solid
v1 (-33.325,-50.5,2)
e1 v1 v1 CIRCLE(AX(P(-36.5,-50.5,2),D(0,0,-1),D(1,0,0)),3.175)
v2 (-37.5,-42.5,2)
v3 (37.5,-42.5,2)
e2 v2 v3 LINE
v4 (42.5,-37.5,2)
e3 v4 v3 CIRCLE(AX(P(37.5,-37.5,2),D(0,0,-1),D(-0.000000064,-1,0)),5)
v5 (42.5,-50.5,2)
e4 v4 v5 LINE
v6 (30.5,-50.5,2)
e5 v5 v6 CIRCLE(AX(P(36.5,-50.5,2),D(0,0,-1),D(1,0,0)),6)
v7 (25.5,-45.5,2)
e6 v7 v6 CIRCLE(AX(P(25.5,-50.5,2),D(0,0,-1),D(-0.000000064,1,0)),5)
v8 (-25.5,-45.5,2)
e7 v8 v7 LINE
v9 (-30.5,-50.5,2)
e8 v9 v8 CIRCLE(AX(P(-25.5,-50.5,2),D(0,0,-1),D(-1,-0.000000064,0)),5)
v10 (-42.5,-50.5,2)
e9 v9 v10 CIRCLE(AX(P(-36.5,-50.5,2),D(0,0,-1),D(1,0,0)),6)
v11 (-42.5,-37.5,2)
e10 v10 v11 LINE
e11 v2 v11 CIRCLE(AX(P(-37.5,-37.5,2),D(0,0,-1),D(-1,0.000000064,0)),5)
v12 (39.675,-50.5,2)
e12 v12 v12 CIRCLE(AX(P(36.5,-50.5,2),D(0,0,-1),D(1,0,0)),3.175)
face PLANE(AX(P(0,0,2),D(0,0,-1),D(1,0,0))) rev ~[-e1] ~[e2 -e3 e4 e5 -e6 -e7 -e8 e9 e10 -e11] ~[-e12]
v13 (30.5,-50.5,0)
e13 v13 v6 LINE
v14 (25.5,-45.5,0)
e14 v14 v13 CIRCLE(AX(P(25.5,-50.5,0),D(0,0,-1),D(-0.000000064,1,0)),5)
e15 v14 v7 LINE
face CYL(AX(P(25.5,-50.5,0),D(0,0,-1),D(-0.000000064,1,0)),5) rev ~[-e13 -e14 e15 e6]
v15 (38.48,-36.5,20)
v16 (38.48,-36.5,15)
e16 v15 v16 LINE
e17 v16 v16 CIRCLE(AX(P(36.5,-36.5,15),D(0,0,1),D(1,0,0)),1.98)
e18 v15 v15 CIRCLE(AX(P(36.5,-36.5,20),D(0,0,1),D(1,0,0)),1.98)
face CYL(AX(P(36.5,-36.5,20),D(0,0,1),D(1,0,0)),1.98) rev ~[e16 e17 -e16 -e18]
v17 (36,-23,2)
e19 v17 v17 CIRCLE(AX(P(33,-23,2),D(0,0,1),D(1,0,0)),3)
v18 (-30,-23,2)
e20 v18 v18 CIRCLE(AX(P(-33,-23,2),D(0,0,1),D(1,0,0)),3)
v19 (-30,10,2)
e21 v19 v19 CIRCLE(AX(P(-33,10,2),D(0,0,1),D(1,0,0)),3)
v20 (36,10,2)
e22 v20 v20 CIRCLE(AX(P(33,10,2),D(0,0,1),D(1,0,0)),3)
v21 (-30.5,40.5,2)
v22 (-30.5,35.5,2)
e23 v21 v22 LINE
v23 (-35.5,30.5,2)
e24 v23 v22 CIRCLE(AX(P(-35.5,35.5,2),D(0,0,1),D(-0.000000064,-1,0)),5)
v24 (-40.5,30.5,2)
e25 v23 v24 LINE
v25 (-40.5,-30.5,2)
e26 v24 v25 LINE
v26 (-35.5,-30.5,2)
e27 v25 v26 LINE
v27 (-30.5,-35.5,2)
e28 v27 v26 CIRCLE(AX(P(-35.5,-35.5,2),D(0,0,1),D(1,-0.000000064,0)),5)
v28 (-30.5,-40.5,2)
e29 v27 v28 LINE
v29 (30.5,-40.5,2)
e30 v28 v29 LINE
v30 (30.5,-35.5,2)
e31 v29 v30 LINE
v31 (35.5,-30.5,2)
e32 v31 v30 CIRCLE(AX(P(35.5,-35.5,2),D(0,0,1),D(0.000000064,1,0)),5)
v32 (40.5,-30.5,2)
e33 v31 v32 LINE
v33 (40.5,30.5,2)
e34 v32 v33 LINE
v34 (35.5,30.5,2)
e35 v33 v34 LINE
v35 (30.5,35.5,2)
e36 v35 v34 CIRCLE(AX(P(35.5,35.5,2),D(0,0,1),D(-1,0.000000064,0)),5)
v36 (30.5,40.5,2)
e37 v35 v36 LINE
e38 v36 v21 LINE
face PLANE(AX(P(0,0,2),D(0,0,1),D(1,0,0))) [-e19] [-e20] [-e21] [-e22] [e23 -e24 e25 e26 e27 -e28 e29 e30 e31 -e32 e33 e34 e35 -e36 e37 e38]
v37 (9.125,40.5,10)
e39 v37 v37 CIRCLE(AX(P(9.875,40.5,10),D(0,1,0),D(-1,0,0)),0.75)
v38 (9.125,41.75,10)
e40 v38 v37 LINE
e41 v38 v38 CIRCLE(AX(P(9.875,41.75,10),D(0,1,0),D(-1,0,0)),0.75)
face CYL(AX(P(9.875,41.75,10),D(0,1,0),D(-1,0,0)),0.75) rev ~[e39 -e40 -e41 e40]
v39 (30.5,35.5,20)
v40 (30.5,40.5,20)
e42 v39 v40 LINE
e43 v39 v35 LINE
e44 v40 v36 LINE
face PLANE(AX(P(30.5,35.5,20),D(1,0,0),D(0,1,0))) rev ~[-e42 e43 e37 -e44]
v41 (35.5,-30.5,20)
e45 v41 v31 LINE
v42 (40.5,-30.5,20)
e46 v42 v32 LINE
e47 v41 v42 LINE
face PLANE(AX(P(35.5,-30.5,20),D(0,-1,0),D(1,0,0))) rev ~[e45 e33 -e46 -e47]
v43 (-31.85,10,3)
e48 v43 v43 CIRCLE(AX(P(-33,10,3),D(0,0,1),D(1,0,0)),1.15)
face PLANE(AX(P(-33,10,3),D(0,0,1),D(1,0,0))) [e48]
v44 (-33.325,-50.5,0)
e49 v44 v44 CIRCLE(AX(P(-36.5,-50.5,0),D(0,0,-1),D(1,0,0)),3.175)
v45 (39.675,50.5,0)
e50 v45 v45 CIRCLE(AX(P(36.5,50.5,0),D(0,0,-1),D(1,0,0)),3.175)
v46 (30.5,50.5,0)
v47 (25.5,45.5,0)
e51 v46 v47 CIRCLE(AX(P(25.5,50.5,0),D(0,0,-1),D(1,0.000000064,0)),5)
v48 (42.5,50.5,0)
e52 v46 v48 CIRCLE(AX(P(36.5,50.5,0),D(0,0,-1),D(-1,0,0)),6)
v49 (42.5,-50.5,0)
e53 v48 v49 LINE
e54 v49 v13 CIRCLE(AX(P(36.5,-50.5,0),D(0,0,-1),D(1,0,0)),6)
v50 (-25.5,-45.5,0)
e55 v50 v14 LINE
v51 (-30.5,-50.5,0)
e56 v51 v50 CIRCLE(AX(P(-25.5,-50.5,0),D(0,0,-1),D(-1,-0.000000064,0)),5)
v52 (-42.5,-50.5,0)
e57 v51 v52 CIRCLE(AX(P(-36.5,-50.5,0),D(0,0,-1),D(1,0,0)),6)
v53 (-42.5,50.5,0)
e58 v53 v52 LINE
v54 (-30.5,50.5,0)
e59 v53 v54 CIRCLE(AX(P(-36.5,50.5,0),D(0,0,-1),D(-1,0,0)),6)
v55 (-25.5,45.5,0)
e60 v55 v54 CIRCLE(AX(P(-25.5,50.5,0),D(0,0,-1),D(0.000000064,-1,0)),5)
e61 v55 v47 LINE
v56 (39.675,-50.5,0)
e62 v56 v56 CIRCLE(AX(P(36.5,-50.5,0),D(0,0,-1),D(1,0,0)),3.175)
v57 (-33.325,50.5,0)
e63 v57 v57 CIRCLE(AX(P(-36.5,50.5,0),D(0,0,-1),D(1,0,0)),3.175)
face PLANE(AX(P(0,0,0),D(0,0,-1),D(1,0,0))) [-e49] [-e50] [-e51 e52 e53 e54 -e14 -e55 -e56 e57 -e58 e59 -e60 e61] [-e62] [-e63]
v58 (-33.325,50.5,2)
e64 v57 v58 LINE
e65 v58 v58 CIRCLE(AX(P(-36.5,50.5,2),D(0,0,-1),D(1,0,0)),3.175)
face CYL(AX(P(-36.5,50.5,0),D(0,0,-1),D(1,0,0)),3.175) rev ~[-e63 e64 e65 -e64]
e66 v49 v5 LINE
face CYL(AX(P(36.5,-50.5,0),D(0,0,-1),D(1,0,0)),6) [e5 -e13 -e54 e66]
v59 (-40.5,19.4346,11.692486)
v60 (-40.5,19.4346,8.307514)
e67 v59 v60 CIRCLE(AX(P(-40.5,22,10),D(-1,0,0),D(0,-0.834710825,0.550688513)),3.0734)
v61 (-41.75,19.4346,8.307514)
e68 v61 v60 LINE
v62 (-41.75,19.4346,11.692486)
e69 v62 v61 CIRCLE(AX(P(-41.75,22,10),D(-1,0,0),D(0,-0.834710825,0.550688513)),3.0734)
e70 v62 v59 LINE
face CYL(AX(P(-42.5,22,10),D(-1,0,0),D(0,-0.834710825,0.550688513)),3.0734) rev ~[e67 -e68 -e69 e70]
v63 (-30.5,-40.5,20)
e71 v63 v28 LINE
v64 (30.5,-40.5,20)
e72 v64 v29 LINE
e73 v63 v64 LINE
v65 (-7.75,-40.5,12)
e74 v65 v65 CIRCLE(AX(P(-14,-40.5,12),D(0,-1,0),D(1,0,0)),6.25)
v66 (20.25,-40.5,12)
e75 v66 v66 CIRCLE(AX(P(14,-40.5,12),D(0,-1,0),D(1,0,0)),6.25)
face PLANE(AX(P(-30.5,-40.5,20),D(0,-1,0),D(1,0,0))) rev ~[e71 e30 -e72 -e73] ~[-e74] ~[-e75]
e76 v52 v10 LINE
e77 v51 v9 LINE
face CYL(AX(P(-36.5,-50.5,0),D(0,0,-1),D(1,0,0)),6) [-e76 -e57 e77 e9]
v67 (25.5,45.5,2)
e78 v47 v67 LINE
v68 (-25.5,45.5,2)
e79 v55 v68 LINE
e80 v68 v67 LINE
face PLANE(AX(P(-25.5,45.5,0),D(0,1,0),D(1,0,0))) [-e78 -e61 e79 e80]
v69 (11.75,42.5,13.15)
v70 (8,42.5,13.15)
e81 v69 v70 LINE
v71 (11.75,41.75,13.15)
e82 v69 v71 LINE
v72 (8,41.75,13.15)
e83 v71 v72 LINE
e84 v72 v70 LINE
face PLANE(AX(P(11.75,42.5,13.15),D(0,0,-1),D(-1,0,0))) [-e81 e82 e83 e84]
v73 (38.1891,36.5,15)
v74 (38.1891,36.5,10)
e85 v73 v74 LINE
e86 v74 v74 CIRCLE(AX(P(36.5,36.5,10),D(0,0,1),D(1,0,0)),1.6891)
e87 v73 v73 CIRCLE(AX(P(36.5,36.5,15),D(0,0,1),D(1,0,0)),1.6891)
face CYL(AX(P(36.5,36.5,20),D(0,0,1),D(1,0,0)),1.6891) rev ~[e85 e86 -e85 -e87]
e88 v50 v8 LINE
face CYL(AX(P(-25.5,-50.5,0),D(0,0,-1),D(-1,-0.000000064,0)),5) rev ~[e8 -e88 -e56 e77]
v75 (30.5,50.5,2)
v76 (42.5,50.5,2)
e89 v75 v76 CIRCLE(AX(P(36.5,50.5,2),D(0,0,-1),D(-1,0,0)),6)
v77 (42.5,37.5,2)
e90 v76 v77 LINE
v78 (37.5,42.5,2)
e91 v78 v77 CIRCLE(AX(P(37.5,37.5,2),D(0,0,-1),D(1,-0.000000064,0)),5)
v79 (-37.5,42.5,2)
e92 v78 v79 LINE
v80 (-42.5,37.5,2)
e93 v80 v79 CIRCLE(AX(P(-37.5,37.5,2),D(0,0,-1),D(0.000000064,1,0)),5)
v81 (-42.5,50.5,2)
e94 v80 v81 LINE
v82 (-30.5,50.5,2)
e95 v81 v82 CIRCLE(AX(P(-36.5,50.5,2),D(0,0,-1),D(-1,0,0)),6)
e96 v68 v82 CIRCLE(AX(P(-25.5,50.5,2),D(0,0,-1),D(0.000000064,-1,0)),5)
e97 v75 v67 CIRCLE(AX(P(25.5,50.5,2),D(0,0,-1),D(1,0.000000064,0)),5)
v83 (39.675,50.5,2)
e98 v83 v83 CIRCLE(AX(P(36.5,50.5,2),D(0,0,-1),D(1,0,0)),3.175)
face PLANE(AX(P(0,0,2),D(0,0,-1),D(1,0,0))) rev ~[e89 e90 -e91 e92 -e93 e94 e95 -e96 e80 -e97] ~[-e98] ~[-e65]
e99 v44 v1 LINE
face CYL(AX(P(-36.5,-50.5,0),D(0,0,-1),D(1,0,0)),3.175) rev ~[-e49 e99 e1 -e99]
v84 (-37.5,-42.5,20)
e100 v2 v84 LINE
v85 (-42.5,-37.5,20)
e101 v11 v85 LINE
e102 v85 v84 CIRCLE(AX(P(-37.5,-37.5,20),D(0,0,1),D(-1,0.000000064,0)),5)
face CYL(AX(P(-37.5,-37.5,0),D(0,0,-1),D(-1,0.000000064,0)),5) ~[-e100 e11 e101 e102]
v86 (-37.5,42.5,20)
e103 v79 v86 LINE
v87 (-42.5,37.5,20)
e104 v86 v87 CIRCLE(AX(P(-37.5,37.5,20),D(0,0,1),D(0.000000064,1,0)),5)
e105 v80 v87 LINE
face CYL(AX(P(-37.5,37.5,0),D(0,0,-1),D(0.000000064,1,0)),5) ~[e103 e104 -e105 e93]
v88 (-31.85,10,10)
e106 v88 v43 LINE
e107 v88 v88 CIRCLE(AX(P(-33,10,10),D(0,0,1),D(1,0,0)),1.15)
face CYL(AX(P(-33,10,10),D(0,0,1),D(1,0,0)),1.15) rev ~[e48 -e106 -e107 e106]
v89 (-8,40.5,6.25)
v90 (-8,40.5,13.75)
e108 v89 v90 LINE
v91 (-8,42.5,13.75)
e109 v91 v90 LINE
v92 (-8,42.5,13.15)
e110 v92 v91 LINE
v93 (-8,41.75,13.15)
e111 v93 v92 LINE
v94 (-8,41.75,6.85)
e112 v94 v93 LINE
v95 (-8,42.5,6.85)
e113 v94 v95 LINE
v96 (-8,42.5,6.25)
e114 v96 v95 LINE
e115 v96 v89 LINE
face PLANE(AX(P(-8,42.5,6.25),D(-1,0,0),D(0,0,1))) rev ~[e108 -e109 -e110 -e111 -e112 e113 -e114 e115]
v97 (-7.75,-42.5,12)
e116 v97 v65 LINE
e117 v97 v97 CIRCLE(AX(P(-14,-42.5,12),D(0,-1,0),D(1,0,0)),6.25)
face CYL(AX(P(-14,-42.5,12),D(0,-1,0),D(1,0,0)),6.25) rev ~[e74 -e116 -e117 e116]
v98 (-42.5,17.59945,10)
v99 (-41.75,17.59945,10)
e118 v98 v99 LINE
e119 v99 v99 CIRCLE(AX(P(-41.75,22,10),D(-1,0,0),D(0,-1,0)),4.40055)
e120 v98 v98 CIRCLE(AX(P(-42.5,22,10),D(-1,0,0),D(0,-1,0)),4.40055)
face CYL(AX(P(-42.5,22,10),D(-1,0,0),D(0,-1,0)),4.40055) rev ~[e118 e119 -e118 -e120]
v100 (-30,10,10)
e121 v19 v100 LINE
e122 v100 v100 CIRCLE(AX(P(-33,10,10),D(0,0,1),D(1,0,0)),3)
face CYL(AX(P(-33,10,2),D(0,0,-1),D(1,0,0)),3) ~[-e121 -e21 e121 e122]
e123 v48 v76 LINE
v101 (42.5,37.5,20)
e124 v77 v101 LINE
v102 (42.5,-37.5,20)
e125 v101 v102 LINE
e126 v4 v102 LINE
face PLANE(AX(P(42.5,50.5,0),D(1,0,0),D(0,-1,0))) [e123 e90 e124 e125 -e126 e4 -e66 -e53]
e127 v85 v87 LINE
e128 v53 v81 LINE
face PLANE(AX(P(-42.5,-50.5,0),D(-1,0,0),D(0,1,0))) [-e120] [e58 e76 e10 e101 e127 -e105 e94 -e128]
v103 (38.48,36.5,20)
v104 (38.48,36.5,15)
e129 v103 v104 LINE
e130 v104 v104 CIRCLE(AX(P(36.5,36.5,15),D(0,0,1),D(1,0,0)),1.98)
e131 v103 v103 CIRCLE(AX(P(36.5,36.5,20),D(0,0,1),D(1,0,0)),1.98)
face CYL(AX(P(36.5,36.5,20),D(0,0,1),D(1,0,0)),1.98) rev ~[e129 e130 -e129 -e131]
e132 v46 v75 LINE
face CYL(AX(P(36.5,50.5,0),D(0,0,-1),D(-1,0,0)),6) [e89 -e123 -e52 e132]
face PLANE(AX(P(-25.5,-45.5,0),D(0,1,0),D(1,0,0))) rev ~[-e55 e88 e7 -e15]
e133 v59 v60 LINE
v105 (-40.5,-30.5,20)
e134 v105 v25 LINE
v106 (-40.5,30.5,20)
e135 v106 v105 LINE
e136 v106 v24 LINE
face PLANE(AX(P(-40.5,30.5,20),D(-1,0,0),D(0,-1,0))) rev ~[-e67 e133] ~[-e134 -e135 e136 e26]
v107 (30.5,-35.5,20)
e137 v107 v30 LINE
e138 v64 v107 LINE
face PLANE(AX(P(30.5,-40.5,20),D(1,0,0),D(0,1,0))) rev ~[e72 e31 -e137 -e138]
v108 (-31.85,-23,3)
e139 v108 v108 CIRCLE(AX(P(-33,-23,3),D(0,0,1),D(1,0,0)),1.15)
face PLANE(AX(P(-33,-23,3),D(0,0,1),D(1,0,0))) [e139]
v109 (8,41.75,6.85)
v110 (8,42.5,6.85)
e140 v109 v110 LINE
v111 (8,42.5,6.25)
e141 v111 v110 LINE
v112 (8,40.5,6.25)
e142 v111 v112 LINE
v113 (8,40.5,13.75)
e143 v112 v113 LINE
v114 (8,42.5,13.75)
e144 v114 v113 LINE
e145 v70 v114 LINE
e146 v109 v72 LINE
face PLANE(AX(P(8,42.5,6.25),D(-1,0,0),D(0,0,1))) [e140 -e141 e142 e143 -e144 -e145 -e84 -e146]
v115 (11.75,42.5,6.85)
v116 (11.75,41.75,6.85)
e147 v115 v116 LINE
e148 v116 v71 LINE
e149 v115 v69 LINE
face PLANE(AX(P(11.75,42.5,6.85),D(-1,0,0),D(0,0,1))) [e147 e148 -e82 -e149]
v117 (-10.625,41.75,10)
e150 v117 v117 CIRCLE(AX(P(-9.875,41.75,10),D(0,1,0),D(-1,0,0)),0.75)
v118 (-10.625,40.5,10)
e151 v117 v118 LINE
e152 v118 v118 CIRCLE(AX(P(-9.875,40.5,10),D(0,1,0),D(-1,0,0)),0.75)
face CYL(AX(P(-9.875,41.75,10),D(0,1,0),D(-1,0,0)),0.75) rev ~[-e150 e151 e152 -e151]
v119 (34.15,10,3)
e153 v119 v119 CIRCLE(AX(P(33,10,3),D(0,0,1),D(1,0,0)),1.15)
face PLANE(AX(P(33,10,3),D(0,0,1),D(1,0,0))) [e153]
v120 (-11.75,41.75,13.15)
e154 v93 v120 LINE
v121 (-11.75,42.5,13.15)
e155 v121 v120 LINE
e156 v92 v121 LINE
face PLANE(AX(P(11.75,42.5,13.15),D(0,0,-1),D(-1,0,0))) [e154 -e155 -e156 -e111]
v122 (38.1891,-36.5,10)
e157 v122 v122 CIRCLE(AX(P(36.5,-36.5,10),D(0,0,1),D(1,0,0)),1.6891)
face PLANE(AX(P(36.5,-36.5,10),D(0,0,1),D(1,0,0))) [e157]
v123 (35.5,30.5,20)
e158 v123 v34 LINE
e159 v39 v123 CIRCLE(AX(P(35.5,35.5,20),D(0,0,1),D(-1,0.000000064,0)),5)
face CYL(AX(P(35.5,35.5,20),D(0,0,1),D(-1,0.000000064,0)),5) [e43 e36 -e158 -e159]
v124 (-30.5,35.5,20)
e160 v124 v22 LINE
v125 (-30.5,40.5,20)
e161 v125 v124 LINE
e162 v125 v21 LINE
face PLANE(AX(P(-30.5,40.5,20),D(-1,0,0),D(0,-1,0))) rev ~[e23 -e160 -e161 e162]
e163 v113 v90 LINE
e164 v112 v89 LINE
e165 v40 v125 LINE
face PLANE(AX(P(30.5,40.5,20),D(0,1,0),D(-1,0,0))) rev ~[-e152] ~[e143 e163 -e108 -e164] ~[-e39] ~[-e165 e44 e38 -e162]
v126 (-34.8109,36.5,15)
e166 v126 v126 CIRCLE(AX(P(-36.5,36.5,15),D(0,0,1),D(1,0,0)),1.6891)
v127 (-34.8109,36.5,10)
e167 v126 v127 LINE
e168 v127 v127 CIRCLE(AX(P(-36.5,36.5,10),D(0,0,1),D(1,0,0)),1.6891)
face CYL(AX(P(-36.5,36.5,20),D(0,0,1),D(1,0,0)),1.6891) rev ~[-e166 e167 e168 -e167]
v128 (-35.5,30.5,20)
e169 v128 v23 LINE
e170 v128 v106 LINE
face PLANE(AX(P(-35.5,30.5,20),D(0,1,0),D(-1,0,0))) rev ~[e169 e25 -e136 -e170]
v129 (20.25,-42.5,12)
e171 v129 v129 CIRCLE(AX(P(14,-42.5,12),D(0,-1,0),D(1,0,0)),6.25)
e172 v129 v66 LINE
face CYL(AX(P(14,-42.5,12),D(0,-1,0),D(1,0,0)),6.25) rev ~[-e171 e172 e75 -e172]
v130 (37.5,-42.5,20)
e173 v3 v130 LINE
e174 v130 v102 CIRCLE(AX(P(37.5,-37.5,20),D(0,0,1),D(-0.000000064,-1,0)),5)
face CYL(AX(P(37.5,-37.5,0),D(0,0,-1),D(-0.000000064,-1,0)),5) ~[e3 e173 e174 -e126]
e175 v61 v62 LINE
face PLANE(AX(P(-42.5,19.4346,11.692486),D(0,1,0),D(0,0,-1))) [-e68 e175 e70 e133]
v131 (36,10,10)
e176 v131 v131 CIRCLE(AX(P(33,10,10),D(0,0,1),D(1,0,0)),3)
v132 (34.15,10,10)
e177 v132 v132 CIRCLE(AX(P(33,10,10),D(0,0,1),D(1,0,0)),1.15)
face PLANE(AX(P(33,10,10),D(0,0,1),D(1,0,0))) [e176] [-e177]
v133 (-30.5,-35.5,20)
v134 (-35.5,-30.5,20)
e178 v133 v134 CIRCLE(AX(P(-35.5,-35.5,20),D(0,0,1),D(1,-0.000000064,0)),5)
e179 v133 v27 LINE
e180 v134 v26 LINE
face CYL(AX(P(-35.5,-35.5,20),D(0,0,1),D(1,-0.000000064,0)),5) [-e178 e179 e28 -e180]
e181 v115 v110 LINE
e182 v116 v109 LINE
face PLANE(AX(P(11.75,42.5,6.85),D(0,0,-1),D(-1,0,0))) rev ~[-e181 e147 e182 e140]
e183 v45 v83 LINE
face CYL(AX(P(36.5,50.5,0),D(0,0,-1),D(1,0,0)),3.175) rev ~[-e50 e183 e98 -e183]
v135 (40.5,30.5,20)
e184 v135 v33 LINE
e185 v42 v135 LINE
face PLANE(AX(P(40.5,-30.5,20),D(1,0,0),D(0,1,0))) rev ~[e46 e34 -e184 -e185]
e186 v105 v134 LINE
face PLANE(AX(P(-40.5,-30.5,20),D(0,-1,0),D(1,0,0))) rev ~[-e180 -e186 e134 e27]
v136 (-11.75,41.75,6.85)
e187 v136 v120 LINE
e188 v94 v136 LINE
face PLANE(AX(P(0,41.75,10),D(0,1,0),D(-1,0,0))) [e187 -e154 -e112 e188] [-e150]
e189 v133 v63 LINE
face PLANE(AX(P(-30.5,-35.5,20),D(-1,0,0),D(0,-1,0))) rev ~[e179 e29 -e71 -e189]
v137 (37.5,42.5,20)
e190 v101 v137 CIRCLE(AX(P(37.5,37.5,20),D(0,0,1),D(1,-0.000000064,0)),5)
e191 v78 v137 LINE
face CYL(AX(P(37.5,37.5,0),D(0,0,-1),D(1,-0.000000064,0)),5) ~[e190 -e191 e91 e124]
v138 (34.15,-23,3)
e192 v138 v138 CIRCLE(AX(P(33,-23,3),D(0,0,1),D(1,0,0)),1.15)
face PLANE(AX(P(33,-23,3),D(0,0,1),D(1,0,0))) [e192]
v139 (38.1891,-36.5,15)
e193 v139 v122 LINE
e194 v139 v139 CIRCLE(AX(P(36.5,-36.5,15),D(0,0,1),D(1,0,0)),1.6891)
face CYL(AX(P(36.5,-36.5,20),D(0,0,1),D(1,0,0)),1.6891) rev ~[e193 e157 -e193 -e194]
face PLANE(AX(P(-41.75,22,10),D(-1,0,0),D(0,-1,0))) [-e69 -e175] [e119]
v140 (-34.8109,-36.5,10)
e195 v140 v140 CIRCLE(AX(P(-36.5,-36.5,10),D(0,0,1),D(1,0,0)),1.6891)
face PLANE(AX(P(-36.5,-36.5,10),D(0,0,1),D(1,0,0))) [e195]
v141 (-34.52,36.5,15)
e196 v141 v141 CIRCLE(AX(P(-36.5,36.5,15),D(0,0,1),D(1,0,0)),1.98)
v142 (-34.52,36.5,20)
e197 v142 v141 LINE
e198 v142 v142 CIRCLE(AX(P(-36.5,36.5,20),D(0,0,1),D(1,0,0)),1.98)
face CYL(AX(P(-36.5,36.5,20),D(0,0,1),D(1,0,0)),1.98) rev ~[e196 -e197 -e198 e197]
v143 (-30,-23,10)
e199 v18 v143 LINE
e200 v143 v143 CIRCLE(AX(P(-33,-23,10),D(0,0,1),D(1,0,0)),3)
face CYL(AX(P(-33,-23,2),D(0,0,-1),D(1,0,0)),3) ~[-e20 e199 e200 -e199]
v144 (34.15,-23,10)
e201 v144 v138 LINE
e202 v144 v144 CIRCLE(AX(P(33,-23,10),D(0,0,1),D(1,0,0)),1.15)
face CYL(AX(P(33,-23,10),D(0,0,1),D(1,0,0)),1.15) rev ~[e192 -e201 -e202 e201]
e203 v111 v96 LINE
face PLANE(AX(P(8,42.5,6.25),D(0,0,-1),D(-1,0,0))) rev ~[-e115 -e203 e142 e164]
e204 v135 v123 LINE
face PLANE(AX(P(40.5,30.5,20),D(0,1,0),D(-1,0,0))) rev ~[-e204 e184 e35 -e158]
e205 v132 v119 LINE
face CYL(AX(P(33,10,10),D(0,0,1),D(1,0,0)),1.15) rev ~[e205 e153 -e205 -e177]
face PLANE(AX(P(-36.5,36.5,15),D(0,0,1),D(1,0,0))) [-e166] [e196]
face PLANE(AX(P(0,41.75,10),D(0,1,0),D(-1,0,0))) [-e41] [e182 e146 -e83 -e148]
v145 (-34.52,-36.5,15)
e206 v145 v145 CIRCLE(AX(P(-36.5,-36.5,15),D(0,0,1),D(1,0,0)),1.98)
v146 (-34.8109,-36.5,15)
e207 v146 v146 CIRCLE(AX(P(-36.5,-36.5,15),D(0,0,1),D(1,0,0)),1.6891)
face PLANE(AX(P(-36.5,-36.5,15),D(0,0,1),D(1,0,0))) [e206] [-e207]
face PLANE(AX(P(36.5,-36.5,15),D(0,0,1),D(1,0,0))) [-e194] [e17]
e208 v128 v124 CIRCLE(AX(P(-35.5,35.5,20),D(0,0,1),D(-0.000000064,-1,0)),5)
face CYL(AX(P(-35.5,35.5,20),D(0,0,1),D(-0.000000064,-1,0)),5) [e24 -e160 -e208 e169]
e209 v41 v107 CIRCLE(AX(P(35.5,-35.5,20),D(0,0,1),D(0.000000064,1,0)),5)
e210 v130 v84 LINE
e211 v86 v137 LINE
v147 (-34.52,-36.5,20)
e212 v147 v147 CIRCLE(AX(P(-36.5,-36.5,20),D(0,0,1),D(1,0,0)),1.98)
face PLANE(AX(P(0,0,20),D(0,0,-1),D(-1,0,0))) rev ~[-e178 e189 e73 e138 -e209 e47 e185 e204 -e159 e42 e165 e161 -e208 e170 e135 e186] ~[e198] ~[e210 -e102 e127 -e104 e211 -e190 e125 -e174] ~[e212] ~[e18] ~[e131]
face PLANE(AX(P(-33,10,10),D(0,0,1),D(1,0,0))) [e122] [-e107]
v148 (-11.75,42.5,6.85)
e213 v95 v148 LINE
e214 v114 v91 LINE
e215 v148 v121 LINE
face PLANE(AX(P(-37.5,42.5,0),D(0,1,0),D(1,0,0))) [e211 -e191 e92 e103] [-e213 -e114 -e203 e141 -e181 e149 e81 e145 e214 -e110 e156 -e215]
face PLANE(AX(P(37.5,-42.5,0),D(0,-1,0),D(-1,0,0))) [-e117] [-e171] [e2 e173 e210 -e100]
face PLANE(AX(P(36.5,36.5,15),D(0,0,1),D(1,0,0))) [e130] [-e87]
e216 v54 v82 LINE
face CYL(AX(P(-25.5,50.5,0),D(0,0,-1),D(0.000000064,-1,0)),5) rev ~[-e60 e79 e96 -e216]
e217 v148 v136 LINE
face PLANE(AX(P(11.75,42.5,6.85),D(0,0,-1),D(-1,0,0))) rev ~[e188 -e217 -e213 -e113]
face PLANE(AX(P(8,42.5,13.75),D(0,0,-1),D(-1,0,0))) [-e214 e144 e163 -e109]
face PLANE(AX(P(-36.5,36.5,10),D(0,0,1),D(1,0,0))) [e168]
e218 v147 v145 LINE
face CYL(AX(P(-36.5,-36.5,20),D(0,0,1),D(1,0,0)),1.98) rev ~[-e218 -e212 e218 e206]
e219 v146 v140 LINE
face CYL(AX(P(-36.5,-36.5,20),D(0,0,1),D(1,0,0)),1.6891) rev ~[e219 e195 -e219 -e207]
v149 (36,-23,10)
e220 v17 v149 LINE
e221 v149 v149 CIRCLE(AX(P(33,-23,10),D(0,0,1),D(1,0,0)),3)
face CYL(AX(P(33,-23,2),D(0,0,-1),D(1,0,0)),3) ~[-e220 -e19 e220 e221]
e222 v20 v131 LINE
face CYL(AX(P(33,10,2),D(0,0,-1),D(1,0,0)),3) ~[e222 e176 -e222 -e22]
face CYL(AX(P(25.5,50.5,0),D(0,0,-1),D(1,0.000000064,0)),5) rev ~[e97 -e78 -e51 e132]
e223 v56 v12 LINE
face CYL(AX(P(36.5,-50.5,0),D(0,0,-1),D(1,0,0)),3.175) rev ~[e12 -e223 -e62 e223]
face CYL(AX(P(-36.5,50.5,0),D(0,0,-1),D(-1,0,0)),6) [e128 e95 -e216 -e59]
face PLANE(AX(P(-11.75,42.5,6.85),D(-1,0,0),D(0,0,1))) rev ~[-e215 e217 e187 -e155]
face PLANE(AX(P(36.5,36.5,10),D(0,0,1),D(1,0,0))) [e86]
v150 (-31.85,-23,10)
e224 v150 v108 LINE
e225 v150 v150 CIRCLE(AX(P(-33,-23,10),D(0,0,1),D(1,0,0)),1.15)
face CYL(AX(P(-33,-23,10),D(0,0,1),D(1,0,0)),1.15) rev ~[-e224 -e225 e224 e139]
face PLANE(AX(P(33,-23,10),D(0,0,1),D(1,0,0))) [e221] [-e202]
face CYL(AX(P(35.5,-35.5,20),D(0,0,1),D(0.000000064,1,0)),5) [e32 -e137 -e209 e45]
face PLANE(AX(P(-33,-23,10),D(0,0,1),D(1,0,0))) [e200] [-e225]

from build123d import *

# Parameters (mm, degrees)
PAD_DEPTH       = 20
POCKET_DEPTH    = 18
SKETCH003_R     = 1.6891
POCKET001_DEPTH = 10
SKETCH005_R     = 1.98
POCKET002_DEPTH = 5
SKETCH006_R     = 3
PAD001_DEPTH    = 8
SKETCH007_R     = 1.15
POCKET003_DEPTH = 7
SKETCH008_R     = 6.25
POCKET004_DEPTH = 5
POCKET008_DEPTH = 5
SKETCH013_R     = 4.40055
POCKET009_DEPTH = 0.75
SKETCH014_R     = 3.175
PAD002_DEPTH    = 2
SKETCH015_W     = 23.5
SKETCH015_H     = 6.3
POCKET010_DEPTH = 0.75
SKETCH016_W     = 16
SKETCH016_H     = 7.5
POCKET011_DEPTH = 5
SKETCH017_R     = 0.75
POCKET012_DEPTH = 5


with BuildPart() as part:
    # Sketch → Pad (new body)
    with BuildSketch(Plane.XY):
        with BuildLine():
            Line((-37.5, 42.5), (37.5, 42.5))
            ThreePointArc((42.5, 37.5), (41.035534, 41.035534), (37.5, 42.5))
            Line((42.5, 37.5), (42.5, -37.5))
            ThreePointArc((37.5, -42.5), (41.035534, -41.035534), (42.5, -37.5))
            Line((37.5, -42.5), (-37.5, -42.5))
            ThreePointArc((-42.5, -37.5), (-41.035534, -41.035534), (-37.5, -42.5))
            Line((-42.5, -37.5), (-42.5, 37.5))
            ThreePointArc((-37.5, 42.5), (-41.035534, 41.035534), (-42.5, 37.5))
        make_face()
    extrude(amount=PAD_DEPTH)

    # Sketch002 (on Face10 of Pad) → Pocket (cut)
    with BuildSketch(Plane.XY.offset(20)):
        with BuildLine():
            Line((-40.5, 30.5), (-40.5, -30.5))
            Line((-40.5, -30.5), (-35.5, -30.5))
            ThreePointArc((-30.5, -35.5), (-31.964466, -31.964466), (-35.5, -30.5))
            Line((-30.5, -35.5), (-30.5, -40.5))
            Line((-30.5, -40.5), (30.5, -40.5))
            Line((30.5, -40.5), (30.5, -35.5))
            ThreePointArc((35.5, -30.5), (31.964466, -31.964466), (30.5, -35.5))
            Line((35.5, -30.5), (40.5, -30.5))
            Line((40.5, -30.5), (40.5, 30.5))
            Line((40.5, 30.5), (35.5, 30.5))
            ThreePointArc((30.5, 35.5), (31.964466, 31.964466), (35.5, 30.5))
            Line((30.5, 35.5), (30.5, 40.5))
            Line((30.5, 40.5), (-30.5, 40.5))
            Line((-30.5, 40.5), (-30.5, 35.5))
            ThreePointArc((-35.5, 30.5), (-31.964466, 31.964466), (-30.5, 35.5))
            Line((-35.5, 30.5), (-40.5, 30.5))
        make_face()
    extrude(amount=-POCKET_DEPTH, mode=Mode.SUBTRACT)

    # Sketch003 (on Face5 of Pocket) → Pocket001 (cut)
    with BuildSketch(Plane.XY.offset(20)):
        with Locations((-36.5, 36.5)):
            Circle(SKETCH003_R)
        with Locations((36.5, 36.5)):
            Circle(SKETCH003_R)
        with Locations((36.5, -36.5)):
            Circle(SKETCH003_R)
        with Locations((-36.5, -36.5)):
            Circle(SKETCH003_R)
    extrude(amount=-POCKET001_DEPTH, mode=Mode.SUBTRACT)

    # Sketch005 (on Face5 of Pocket001) → Pocket002 (cut)
    with BuildSketch(Plane.XY.offset(20)):
        with Locations((-36.5, 36.5)):
            Circle(SKETCH005_R)
        with Locations((-36.5, -36.5)):
            Circle(SKETCH005_R)
        with Locations((36.5, -36.5)):
            Circle(SKETCH005_R)
        with Locations((36.5, 36.5)):
            Circle(SKETCH005_R)
    extrude(amount=-POCKET002_DEPTH, mode=Mode.SUBTRACT)

    # Sketch006 (on Face32 of Pocket002) → Pad001 (join)
    with BuildSketch(Plane.XY.offset(2)):
        with Locations((-33, 10)):
            Circle(SKETCH006_R)
        with Locations((33, 10)):
            Circle(SKETCH006_R)
        with Locations((-33, -23)):
            Circle(SKETCH006_R)
        with Locations((33, -23)):
            Circle(SKETCH006_R)
    extrude(amount=PAD001_DEPTH)

    # Sketch007 (on Face47 of Pad001) → Pocket003 (cut)
    with BuildSketch(Plane.XY.offset(10)):
        with Locations((33, 10)):
            Circle(SKETCH007_R)
        with Locations((33, -23)):
            Circle(SKETCH007_R)
        with Locations((-33, 10)):
            Circle(SKETCH007_R)
        with Locations((-33, -23)):
            Circle(SKETCH007_R)
    extrude(amount=-POCKET003_DEPTH, mode=Mode.SUBTRACT)

    # Sketch008 (on Face6 of Pocket003) → Pocket004 (cut)
    with BuildSketch(Plane.XZ.offset(42.5)):
        with Locations((-14, 12)):
            Circle(SKETCH008_R)
        with Locations((14, 12)):
            Circle(SKETCH008_R)
    extrude(amount=-POCKET004_DEPTH, mode=Mode.SUBTRACT)

    # Sketch012 → Pocket008 (cut)
    with BuildSketch(Plane(origin=(-42.5, 0, 0), x_dir=(0, -1, 0), z_dir=(-1, 0, 0))):
        with BuildLine():
            ThreePointArc((-19.4346, 11.692486), (-25.0734, 10), (-19.4346, 8.307514))
            Line((-19.4346, 11.692486), (-19.4346, 8.307514))
        make_face()
    extrude(amount=-POCKET008_DEPTH, mode=Mode.SUBTRACT)

    # Sketch013 (on Face1 of Pocket008) → Pocket009 (cut)
    with BuildSketch(Plane(origin=(-42.5, 0, 0), x_dir=(0, -1, 0), z_dir=(-1, 0, 0))):
        with Locations((-22, 10)):
            Circle(SKETCH013_R)
    extrude(amount=-POCKET009_DEPTH, mode=Mode.SUBTRACT)

    # Sketch014 (on Face3 of Pocket009) → Pad002 (join)
    with BuildSketch(Plane(origin=(0, 0, 0), x_dir=(1, 0, 0), z_dir=(0, 0, -1))):
        with BuildLine():
            ThreePointArc((-30.5, 50.5), (-36.5, 56.5), (-42.5, 50.5))
            Line((-42.5, 50.5), (-42.5, -50.5))
            ThreePointArc((-42.5, -50.5), (-36.5, -56.5), (-30.5, -50.5))
            ThreePointArc((-25.5, -45.5), (-29.035534, -46.964466), (-30.5, -50.5))
            Line((-25.5, -45.5), (25.5, -45.5))
            ThreePointArc((30.5, -50.5), (29.035534, -46.964466), (25.5, -45.5))
            ThreePointArc((30.5, -50.5), (36.5, -56.5), (42.5, -50.5))
            Line((42.5, -50.5), (42.5, 50.5))
            ThreePointArc((42.5, 50.5), (36.5, 56.5), (30.5, 50.5))
            ThreePointArc((25.5, 45.5), (29.035534, 46.964466), (30.5, 50.5))
            Line((-25.5, 45.5), (25.5, 45.5))
            ThreePointArc((-30.5, 50.5), (-29.035534, 46.964466), (-25.5, 45.5))
        make_face()
        with Locations((-36.5, -50.5)):
            Circle(SKETCH014_R, mode=Mode.SUBTRACT)
        with Locations((36.5, -50.5)):
            Circle(SKETCH014_R, mode=Mode.SUBTRACT)
        with Locations((36.5, 50.5)):
            Circle(SKETCH014_R, mode=Mode.SUBTRACT)
        with Locations((-36.5, 50.5)):
            Circle(SKETCH014_R, mode=Mode.SUBTRACT)
    extrude(amount=-PAD002_DEPTH)

    # Sketch015 → Pocket010 (cut)
    with BuildSketch(Plane(origin=(0, 42.5, 0), x_dir=(-1, 0, 0), z_dir=(0, 1, 0))):
        with Locations((0, 10)):
            Rectangle(SKETCH015_W, SKETCH015_H)
    extrude(amount=-POCKET010_DEPTH, mode=Mode.SUBTRACT)

    # Sketch016 (on Face32 of Pocket010) → Pocket011 (cut)
    with BuildSketch(Plane(origin=(0, 42.5, 0), x_dir=(-1, 0, 0), z_dir=(0, 1, 0))):
        with Locations((0, 10)):
            Rectangle(SKETCH016_W, SKETCH016_H)
    extrude(amount=-POCKET011_DEPTH, mode=Mode.SUBTRACT)

    # Sketch017 (on Face77 of Pocket011) → Pocket012 (cut)
    with BuildSketch(Plane(origin=(0, 41.75, 0), x_dir=(-1, 0, 0), z_dir=(0, 1, 0))):
        with Locations((-9.875, 10)):
            Circle(SKETCH017_R)
        with Locations((9.875, 10)):
            Circle(SKETCH017_R)
    extrude(amount=-POCKET012_DEPTH, mode=Mode.SUBTRACT)


solid = part.part
